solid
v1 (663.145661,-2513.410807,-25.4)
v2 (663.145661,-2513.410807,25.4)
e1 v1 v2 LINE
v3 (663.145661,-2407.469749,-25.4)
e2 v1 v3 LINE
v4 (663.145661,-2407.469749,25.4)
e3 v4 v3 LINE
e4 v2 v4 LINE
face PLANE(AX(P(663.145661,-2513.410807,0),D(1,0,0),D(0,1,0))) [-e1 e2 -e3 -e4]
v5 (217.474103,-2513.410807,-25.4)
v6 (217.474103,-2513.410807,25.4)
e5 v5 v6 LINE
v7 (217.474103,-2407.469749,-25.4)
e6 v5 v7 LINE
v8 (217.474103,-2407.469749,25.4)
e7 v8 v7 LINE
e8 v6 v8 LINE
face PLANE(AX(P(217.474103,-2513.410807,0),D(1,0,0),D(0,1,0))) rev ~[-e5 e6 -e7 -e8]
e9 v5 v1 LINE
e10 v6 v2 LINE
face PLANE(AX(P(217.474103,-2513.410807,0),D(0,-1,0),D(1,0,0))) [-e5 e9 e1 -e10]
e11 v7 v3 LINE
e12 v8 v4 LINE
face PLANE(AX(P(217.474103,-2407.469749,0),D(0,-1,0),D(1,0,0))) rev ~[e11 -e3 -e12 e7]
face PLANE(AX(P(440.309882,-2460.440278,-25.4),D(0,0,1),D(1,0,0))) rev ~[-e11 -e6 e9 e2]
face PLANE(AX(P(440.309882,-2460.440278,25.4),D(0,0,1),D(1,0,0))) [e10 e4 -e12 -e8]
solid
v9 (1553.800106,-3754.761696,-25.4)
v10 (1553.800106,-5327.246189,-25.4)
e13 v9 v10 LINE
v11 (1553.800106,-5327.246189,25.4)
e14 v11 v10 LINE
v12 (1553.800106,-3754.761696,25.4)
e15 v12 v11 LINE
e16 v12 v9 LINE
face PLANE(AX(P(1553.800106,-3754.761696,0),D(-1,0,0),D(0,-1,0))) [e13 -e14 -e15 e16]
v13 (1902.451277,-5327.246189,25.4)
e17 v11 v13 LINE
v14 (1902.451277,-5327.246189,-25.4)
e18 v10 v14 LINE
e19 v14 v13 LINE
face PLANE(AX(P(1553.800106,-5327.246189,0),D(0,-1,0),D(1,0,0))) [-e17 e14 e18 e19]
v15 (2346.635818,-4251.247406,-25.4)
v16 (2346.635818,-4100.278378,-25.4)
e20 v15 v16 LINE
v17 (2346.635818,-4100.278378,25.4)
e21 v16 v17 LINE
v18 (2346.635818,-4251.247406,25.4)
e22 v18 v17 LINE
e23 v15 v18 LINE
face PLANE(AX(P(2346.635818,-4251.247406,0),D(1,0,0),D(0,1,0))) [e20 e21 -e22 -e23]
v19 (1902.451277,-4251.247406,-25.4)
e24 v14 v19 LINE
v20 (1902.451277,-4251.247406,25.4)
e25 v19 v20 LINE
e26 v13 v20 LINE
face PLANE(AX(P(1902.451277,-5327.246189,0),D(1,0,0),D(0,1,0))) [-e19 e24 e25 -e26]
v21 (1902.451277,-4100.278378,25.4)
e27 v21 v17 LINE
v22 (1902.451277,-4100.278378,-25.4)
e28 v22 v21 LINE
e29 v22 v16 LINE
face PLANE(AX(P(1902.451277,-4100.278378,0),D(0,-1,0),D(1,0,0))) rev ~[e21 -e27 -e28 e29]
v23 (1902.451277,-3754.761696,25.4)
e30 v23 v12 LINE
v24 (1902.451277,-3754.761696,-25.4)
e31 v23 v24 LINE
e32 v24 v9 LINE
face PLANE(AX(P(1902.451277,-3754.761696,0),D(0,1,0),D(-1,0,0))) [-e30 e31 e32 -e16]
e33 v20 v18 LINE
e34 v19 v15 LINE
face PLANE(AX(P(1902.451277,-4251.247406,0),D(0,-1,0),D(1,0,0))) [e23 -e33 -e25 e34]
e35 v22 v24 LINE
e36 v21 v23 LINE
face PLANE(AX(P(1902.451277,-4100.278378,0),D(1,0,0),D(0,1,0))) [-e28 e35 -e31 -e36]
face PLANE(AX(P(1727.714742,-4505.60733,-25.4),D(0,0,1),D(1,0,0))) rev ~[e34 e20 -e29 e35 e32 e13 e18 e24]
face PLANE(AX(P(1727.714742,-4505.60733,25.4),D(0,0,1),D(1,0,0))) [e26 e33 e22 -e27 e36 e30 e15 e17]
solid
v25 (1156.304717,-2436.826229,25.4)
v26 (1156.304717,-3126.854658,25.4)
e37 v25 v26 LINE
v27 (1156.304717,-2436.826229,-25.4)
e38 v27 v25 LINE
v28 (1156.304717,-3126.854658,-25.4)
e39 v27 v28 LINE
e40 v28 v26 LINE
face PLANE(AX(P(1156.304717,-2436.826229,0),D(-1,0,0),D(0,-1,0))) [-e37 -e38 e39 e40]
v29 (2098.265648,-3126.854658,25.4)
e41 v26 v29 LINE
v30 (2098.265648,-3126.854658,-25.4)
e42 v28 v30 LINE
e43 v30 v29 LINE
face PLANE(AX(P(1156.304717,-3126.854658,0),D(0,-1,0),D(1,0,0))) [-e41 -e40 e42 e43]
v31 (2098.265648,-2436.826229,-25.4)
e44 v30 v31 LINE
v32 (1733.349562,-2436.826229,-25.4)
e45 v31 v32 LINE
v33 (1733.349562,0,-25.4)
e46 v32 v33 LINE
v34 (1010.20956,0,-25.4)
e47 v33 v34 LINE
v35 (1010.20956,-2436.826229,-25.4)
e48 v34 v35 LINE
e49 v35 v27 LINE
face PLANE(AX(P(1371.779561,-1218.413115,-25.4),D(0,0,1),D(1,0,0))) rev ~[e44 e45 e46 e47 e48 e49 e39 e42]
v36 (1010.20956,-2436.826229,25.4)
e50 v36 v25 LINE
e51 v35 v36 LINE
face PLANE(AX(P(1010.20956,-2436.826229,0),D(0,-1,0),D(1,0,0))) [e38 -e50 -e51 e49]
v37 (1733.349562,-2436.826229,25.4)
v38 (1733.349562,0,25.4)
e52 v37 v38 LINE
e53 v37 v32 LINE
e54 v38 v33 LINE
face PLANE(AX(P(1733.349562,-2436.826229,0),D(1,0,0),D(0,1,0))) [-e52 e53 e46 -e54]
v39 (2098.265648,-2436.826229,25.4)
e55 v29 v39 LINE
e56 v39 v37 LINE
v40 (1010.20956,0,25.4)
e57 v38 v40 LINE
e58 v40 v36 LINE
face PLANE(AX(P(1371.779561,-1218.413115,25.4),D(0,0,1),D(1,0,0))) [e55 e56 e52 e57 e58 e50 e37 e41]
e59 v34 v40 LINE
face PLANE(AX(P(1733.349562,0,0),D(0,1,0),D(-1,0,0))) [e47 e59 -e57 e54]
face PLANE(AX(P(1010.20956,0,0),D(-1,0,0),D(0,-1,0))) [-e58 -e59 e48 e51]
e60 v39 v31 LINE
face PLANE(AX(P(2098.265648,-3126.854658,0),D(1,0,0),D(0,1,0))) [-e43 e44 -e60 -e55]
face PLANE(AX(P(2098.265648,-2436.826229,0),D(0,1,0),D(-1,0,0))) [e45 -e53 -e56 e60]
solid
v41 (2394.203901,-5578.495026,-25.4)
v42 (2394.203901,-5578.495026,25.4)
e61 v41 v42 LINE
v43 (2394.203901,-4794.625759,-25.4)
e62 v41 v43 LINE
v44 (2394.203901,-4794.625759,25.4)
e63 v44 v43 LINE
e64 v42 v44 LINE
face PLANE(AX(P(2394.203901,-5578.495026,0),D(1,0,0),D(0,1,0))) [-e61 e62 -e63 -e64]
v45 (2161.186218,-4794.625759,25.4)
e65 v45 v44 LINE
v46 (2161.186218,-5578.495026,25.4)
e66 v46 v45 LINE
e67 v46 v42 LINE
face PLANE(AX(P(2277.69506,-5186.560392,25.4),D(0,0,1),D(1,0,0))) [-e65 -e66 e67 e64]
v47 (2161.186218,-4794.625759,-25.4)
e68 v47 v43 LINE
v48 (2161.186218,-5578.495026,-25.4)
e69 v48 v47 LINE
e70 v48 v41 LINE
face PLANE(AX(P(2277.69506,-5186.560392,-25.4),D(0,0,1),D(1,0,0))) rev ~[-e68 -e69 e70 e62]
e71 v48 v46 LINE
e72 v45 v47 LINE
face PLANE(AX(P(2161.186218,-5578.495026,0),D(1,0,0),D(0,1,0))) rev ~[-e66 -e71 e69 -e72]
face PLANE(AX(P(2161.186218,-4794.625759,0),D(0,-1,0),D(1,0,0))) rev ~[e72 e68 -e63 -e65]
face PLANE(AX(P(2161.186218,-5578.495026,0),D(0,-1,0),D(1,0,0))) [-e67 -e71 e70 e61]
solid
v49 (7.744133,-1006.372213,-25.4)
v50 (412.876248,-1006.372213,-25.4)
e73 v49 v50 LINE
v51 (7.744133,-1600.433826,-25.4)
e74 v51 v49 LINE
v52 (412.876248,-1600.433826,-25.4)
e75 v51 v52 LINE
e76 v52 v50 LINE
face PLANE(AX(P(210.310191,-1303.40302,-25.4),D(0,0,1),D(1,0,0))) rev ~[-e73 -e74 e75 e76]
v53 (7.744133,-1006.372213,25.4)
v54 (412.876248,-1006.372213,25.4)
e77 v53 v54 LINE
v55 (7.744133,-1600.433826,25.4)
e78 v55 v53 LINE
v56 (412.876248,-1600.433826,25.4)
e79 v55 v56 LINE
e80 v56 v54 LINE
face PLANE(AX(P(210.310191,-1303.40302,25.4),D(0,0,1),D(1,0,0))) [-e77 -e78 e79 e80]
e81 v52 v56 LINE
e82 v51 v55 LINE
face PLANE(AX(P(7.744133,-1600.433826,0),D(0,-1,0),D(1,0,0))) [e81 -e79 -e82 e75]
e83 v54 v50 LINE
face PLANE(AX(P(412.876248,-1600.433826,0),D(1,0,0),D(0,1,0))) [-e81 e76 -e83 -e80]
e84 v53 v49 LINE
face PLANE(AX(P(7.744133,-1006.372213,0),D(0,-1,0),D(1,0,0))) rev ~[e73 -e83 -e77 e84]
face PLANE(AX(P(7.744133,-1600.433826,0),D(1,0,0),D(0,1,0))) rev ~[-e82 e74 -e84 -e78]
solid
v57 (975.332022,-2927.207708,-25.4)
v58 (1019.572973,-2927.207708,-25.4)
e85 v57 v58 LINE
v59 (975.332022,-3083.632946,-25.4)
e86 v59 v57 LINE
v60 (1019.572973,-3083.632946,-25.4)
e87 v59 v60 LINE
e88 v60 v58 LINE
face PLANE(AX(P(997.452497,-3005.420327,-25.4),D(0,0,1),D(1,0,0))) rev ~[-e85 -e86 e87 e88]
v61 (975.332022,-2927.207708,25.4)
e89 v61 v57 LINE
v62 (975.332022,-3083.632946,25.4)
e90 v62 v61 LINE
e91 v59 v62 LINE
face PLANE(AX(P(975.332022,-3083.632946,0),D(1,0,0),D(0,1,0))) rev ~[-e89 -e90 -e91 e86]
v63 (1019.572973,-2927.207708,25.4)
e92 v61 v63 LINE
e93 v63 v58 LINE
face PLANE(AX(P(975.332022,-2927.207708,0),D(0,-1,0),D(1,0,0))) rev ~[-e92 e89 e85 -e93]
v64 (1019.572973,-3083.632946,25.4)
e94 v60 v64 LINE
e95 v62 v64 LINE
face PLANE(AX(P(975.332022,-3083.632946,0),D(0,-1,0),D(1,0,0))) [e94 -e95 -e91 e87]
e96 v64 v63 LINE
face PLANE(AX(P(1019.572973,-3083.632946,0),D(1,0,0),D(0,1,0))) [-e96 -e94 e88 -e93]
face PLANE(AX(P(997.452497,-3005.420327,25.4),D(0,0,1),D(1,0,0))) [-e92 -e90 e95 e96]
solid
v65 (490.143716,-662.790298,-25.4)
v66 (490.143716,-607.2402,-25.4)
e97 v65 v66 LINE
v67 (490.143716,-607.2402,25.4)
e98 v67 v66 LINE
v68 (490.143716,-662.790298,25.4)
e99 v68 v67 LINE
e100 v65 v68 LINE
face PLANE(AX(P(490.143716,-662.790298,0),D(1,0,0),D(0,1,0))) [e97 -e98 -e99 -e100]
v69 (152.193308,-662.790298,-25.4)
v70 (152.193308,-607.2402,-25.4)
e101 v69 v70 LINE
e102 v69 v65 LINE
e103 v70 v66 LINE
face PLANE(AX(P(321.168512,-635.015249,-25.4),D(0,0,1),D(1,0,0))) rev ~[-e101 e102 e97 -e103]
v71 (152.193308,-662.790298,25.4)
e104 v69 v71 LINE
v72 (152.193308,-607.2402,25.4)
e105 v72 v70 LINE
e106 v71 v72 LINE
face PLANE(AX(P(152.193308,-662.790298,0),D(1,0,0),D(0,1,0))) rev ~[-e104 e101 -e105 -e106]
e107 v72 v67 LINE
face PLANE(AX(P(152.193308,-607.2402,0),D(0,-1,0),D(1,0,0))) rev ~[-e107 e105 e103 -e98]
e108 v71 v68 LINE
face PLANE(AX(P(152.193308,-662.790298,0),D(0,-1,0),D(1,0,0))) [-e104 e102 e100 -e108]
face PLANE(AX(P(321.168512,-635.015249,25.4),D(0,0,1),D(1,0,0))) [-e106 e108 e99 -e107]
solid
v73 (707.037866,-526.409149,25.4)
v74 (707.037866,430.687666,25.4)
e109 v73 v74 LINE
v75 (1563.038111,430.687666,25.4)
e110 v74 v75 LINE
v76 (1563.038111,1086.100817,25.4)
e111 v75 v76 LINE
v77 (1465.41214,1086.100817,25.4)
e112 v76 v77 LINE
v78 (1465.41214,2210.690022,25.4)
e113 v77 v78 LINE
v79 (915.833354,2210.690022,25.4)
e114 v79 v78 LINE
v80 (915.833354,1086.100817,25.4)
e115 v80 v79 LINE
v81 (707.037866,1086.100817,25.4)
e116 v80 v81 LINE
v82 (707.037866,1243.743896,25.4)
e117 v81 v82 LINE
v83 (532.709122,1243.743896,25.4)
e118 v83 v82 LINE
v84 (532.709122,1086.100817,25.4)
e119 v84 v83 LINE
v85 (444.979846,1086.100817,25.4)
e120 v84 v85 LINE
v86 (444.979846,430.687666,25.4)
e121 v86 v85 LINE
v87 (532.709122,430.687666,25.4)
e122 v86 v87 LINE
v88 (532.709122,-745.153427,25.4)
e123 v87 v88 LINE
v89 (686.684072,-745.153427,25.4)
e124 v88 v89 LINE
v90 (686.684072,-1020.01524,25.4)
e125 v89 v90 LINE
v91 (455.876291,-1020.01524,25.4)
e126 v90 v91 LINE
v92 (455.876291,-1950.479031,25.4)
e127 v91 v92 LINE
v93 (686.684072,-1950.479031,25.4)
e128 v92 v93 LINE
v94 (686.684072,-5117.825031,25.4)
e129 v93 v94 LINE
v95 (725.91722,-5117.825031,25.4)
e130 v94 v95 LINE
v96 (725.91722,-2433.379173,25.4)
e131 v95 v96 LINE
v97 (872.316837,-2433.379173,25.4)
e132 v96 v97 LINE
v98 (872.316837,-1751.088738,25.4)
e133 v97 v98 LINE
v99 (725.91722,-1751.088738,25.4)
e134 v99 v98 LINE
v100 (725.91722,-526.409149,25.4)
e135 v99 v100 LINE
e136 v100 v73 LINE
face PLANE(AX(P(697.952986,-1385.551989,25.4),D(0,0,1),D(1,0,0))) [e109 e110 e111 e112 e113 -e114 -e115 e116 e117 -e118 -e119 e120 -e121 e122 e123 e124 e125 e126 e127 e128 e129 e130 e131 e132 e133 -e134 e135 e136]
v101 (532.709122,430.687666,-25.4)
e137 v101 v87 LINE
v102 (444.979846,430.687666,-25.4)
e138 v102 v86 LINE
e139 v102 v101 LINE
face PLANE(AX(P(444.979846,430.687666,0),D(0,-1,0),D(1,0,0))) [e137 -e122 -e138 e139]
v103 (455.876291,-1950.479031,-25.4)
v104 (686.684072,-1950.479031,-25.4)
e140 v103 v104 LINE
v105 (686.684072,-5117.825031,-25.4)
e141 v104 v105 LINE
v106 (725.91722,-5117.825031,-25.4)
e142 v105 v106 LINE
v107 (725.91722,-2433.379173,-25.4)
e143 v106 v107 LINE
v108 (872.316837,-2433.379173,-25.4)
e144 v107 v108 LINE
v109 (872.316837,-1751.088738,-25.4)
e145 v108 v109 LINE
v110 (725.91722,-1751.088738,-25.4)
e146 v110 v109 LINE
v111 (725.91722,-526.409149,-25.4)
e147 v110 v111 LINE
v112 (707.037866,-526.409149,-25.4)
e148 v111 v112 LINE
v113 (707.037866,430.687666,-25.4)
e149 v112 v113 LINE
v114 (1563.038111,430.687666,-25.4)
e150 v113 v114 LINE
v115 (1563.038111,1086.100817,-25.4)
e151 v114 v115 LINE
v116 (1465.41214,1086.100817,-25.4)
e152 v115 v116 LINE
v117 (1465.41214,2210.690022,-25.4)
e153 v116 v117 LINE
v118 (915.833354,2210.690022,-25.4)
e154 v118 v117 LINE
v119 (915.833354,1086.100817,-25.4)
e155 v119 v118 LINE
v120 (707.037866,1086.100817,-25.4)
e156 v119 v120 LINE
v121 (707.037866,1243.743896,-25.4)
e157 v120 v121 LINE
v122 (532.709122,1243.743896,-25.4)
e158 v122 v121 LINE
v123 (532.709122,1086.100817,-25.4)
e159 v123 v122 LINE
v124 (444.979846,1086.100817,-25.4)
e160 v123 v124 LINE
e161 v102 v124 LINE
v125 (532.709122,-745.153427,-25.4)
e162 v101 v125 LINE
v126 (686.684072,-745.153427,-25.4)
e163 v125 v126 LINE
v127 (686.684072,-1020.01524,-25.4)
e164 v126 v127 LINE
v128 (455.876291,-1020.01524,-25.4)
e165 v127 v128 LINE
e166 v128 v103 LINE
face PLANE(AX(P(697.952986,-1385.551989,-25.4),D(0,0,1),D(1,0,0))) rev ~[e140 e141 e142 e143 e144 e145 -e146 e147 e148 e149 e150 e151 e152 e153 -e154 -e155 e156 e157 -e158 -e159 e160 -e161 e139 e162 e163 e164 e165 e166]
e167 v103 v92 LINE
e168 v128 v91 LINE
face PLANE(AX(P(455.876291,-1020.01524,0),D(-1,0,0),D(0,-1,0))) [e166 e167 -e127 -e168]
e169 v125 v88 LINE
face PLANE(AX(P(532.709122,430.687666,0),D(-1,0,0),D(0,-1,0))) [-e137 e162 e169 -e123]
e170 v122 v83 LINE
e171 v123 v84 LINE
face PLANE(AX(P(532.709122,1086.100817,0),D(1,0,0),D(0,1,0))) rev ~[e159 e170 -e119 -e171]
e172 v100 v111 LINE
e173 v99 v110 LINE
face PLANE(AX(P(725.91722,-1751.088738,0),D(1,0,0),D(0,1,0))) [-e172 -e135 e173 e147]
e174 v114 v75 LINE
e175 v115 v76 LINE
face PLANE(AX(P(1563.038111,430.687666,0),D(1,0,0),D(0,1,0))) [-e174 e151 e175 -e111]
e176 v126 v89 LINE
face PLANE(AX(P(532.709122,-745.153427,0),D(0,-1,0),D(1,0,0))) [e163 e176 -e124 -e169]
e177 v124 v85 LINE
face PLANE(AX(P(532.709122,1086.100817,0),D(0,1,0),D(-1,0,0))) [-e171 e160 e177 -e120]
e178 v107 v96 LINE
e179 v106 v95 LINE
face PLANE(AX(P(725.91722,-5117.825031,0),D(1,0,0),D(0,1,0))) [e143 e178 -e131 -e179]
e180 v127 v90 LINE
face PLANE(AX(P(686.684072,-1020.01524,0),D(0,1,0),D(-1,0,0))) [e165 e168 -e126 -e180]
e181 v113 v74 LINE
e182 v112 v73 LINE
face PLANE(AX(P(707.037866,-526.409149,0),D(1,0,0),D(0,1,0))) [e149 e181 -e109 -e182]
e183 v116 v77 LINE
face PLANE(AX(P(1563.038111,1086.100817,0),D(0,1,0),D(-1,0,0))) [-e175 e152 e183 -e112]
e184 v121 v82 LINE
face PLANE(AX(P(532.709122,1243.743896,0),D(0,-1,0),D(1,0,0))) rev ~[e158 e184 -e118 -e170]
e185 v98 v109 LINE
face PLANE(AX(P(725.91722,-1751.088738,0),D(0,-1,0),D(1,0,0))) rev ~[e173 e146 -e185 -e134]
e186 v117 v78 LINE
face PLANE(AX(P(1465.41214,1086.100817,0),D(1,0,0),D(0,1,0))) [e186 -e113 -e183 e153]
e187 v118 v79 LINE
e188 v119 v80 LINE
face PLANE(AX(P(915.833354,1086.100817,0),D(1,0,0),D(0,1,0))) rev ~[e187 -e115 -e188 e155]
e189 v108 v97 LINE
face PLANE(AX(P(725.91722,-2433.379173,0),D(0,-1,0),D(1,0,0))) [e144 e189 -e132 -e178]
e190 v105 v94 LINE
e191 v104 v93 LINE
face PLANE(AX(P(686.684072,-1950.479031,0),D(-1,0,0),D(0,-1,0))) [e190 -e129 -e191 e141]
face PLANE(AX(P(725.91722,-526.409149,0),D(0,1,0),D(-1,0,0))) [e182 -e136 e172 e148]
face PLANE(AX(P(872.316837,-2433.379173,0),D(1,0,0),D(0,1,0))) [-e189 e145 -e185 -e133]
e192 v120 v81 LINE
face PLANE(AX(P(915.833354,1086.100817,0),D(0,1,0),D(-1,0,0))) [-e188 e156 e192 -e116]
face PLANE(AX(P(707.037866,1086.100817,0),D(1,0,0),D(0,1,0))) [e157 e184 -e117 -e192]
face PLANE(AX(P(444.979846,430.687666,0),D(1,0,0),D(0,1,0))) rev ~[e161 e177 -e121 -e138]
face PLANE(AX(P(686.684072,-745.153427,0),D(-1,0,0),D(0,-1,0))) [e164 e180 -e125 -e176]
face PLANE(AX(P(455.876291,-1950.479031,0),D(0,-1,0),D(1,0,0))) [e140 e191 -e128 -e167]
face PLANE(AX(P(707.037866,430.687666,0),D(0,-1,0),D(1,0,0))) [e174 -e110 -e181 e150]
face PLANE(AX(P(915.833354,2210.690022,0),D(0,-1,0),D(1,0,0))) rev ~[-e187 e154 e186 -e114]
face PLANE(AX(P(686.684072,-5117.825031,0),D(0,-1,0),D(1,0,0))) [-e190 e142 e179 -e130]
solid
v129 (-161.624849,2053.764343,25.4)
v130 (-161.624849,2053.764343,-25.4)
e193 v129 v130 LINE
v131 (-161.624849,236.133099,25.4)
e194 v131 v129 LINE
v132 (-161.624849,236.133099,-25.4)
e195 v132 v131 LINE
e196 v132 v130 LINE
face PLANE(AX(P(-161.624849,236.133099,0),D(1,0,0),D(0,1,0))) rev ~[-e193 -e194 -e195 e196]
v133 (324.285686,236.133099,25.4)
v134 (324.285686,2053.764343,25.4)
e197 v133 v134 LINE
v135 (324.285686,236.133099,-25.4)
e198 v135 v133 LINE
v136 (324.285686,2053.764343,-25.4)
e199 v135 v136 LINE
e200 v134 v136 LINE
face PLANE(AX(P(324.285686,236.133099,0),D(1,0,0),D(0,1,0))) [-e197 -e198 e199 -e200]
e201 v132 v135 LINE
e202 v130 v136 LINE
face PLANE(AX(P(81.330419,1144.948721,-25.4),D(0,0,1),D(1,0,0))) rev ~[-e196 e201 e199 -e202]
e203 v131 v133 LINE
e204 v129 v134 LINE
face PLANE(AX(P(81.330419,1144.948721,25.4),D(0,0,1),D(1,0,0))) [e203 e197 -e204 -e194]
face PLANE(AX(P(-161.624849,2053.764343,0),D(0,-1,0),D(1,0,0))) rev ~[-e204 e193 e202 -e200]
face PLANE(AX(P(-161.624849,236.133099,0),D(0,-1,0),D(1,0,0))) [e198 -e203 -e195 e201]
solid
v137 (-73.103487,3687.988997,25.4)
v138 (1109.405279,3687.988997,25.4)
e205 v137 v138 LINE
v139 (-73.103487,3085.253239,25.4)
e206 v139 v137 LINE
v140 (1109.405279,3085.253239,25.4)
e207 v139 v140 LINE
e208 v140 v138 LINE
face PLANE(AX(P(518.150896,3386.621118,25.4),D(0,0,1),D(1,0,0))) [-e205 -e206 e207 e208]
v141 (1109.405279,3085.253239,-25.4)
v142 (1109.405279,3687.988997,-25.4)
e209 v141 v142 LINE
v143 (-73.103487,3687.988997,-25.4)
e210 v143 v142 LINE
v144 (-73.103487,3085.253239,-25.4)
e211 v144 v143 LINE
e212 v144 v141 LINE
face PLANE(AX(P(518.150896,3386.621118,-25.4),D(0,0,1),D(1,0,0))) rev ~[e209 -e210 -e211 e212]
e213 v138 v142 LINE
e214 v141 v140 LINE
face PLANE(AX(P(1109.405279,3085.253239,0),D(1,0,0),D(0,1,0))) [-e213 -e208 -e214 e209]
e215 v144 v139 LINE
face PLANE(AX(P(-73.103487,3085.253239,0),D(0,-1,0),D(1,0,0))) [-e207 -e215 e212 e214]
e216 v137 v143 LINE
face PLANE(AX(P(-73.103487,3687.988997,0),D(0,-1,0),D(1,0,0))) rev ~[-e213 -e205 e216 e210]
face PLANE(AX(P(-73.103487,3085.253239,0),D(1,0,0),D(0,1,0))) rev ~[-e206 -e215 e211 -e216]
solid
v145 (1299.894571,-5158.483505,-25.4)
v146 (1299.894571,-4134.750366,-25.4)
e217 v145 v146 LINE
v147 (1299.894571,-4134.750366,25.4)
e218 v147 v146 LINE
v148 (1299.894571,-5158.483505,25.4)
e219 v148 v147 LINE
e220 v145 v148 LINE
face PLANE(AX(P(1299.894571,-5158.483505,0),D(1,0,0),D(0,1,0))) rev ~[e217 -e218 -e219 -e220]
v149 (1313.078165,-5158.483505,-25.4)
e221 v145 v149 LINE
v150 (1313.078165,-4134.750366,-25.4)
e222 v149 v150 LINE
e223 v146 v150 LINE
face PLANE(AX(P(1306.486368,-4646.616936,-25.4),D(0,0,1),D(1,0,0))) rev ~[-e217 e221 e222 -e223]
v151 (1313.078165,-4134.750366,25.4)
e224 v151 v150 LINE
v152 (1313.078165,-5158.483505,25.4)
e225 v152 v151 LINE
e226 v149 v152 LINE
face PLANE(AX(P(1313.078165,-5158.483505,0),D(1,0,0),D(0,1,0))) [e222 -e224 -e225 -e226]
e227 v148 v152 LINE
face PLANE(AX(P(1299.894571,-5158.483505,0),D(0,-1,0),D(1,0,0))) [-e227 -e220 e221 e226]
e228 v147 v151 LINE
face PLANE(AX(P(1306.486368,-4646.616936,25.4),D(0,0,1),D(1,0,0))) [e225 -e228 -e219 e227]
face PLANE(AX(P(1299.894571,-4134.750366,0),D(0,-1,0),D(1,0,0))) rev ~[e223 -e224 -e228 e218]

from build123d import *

# Parameters (mm, degrees)
F0_W          = 44.2409515381
F0_H          = 156.4252376556
F1_DEPTH      = 25.399999693
F1_DEPTH_BACK = 25.4
F0_W_2        = 22.5378274918
F0_H_2        = 731.0734987259
F0_H_3        = 199.3902921677
F0_W_3        = 146.3996171951
F0_H_4        = 682.2904348373
F0_W_4        = 39.233148098
F0_H_5        = 2684.4458580017
F0_W_5        = 20.3537940979
F0_H_6        = 218.7442779541
F0_W_6        = 174.3287444115
F0_H_7        = 655.4131507874
F0_W_7        = 87.7292752266
F0_H_8        = 157.6430797577
F0_W_8        = 549.5787858963
F0_H_9        = 11.6560459137
F0_H_10       = 1124.5892047882
F0_W_9        = 1182.5087666512
F0_H_11       = 602.7357578278
F0_W_10       = 485.9105348587
F0_H_12       = 1817.6312446594
F0_W_11       = 337.9504084587
F0_H_13       = 55.5500984192
F0_W_12       = 405.1321148872
F0_H_14       = 594.0616130829
F0_W_13       = 445.6715583801
F0_H_15       = 105.9410572052
F0_W_14       = 233.0176830292
F0_H_16       = 783.86926651
F0_W_15       = 206.1629295349
F0_H_17       = 150.9690284729
F0_W_16       = 444.1845417023
F0_W_17       = 13.18359375
F0_H_18       = 1023.7331390381


with BuildPart() as f1:
    # F0 (on Top) → F1 (new body, two sides)
    with BuildSketch(Plane.XY) as f1_sk:
        with Locations((997.4524974823, -3005.4203271866)):
            Rectangle(F0_W, F0_H)
    extrude(amount=F1_DEPTH)
    extrude(f1_sk.sketch, amount=-F1_DEPTH_BACK)


with BuildPart() as f1b:
    # F0 (on Top) → F1, piece 2 (new body, two sides)
    with BuildSketch(Plane.XY) as f1_2_sk:
        with Locations((697.9529857635, -1385.5519890785)):
            Rectangle(F0_W_2, F0_H_2)
        with Locations((697.9529857635, -1850.7838845253)):
            Rectangle(F0_W_2, F0_H_3)
        Polygon((686.6840720177, -1950.4790306091), (686.6840720177, -1751.0887384415), (686.6840720177, -1020.0152397156), (455.8762907982, -1020.0152397156), (455.8762907982, -1950.4790306091), align=None)
        Polygon((709.2218995094, -1020.0152397156), (709.2218995094, -1751.0887384415), (725.9172201157, -1751.0887384415), (725.9172201157, -526.4091491699), (707.0378661156, -526.4091491699), (707.0378661156, -745.153427124), (686.6840720177, -745.153427124), (686.6840720177, -1020.0152397156), align=None)
        Polygon((725.9172201157, -1751.0887384415), (709.2218995094, -1751.0887384415), (709.2218995094, -1950.4790306091), (686.6840720177, -1950.4790306091), (686.6840720177, -2433.3791732788), (725.9172201157, -2433.3791732788), align=None)
        with Locations((799.1170287132, -2092.2339558601)):
            Rectangle(F0_W_3, F0_H_4)
        with Locations((706.3006460667, -3775.6021022797)):
            Rectangle(F0_W_4, F0_H_5)
        Polygon((532.7091217041, -745.153427124), (686.6840720177, -745.153427124), (686.6840720177, -526.4091491699), (707.0378661156, -526.4091491699), (707.0378661156, 430.6876659393), (532.7091217041, 430.6876659393), align=None)
        with Locations((696.8609690666, -635.781288147)):
            Rectangle(F0_W_5, F0_H_6)
        with Locations((619.8734939098, 758.394241333)):
            Rectangle(F0_W_6, F0_H_7)
        with Locations((488.8444840908, 758.394241333)):
            Rectangle(F0_W_7, F0_H_7)
        Polygon((707.0378661156, 1086.1008167267), (707.0378661156, 430.6876659393), (1563.038110733, 430.6876659393), (1563.038110733, 1086.1008167267), (1465.4121398926, 1086.1008167267), (1465.4121398926, 1074.444770813), (915.8333539963, 1074.444770813), (915.8333539963, 1086.1008167267), align=None)
        with Locations((619.8734939098, 1164.9223566055)):
            Rectangle(F0_W_6, F0_H_8)
        with Locations((1190.6227469444, 1080.2727937698)):
            Rectangle(F0_W_8, F0_H_9)
        with Locations((1190.6227469444, 1648.3954191208)):
            Rectangle(F0_W_8, F0_H_10)
    extrude(amount=F1_DEPTH)
    extrude(f1_2_sk.sketch, amount=-F1_DEPTH_BACK)


with BuildPart() as f1c:
    # F0 (on Top) → F1, piece 3 (new body, two sides)
    with BuildSketch(Plane.XY) as f1_3_sk:
        Polygon((1733.3495616913, 0), (1010.2095603943, 0), (1010.2095603943, -2436.8262290955), (1156.3047170639, -2436.8262290955), (1733.3495616913, -2436.8262290955), align=None)
        Polygon((2098.2656478882, -2436.8262290955), (1733.3495616913, -2436.8262290955), (1156.3047170639, -2436.8262290955), (1156.3047170639, -3126.8546581268), (2098.2656478882, -3126.8546581268), align=None)
    extrude(amount=F1_DEPTH)
    extrude(f1_3_sk.sketch, amount=-F1_DEPTH_BACK)


with BuildPart() as f1d:
    # F0 (on Top) → F1, piece 4 (new body, two sides)
    with BuildSketch(Plane.XY) as f1_4_sk:
        with Locations((518.150895834, 3386.6211175919)):
            Rectangle(F0_W_9, F0_H_11)
    extrude(amount=F1_DEPTH)
    extrude(f1_4_sk.sketch, amount=-F1_DEPTH_BACK)


with BuildPart() as f1e:
    # F0 (on Top) → F1, piece 5 (new body, two sides)
    with BuildSketch(Plane.XY) as f1_5_sk:
        with Locations((81.3304185867, 1144.948720932)):
            Rectangle(F0_W_10, F0_H_12)
    extrude(amount=F1_DEPTH)
    extrude(f1_5_sk.sketch, amount=-F1_DEPTH_BACK)


with BuildPart() as f1f:
    # F0 (on Top) → F1, piece 6 (new body, two sides)
    with BuildSketch(Plane.XY) as f1_6_sk:
        with Locations((321.1685121059, -635.0152492523)):
            Rectangle(F0_W_11, F0_H_13)
    extrude(amount=F1_DEPTH)
    extrude(f1_6_sk.sketch, amount=-F1_DEPTH_BACK)


with BuildPart() as f1g:
    # F0 (on Top) → F1, piece 7 (new body, two sides)
    with BuildSketch(Plane.XY) as f1_7_sk:
        with Locations((210.3101909161, -1303.4030199051)):
            Rectangle(F0_W_12, F0_H_14)
    extrude(amount=F1_DEPTH)
    extrude(f1_7_sk.sketch, amount=-F1_DEPTH_BACK)


with BuildPart() as f1h:
    # F0 (on Top) → F1, piece 8 (new body, two sides)
    with BuildSketch(Plane.XY) as f1_8_sk:
        with Locations((440.309882164, -2460.4402780533)):
            Rectangle(F0_W_13, F0_H_15)
    extrude(amount=F1_DEPTH)
    extrude(f1_8_sk.sketch, amount=-F1_DEPTH_BACK)


with BuildPart() as f1i:
    # F0 (on Top) → F1, piece 9 (new body, two sides)
    with BuildSketch(Plane.XY) as f1_9_sk:
        with Locations((2277.6950597763, -5186.5603923798)):
            Rectangle(F0_W_14, F0_H_16)
    extrude(amount=F1_DEPTH)
    extrude(f1_9_sk.sketch, amount=-F1_DEPTH_BACK)


with BuildPart() as f1j:
    # F0 (on Top) → F1, piece 10 (new body, two sides)
    with BuildSketch(Plane.XY) as f1_10_sk:
        Polygon((1553.8001060486, -5327.2461891174), (1902.4512767792, -5327.2461891174), (1902.4512767792, -4251.2474060059), (1696.2883472443, -4251.2474060059), (1696.2883472443, -4100.278377533), (1902.4512767792, -4100.278377533), (1902.4512767792, -3754.7616958618), (1553.8001060486, -3754.7616958618), align=None)
        with Locations((1799.3698120117, -4175.7628917694)):
            Rectangle(F0_W_15, F0_H_17)
        with Locations((2124.5435476303, -4175.7628917694)):
            Rectangle(F0_W_16, F0_H_17)
    extrude(amount=F1_DEPTH)
    extrude(f1_10_sk.sketch, amount=-F1_DEPTH_BACK)


with BuildPart() as f1k:
    # F0 (on Top) → F1, piece 11 (new body, two sides)
    with BuildSketch(Plane.XY) as f1_11_sk:
        with Locations((1306.4863681793, -4646.61693573)):
            Rectangle(F0_W_17, F0_H_18)
    extrude(amount=F1_DEPTH)
    extrude(f1_11_sk.sketch, amount=-F1_DEPTH_BACK)


solid = Compound([f1.part, f1b.part, f1c.part, f1d.part, f1e.part, f1f.part, f1g.part, f1h.part, f1i.part, f1j.part, f1k.part])
